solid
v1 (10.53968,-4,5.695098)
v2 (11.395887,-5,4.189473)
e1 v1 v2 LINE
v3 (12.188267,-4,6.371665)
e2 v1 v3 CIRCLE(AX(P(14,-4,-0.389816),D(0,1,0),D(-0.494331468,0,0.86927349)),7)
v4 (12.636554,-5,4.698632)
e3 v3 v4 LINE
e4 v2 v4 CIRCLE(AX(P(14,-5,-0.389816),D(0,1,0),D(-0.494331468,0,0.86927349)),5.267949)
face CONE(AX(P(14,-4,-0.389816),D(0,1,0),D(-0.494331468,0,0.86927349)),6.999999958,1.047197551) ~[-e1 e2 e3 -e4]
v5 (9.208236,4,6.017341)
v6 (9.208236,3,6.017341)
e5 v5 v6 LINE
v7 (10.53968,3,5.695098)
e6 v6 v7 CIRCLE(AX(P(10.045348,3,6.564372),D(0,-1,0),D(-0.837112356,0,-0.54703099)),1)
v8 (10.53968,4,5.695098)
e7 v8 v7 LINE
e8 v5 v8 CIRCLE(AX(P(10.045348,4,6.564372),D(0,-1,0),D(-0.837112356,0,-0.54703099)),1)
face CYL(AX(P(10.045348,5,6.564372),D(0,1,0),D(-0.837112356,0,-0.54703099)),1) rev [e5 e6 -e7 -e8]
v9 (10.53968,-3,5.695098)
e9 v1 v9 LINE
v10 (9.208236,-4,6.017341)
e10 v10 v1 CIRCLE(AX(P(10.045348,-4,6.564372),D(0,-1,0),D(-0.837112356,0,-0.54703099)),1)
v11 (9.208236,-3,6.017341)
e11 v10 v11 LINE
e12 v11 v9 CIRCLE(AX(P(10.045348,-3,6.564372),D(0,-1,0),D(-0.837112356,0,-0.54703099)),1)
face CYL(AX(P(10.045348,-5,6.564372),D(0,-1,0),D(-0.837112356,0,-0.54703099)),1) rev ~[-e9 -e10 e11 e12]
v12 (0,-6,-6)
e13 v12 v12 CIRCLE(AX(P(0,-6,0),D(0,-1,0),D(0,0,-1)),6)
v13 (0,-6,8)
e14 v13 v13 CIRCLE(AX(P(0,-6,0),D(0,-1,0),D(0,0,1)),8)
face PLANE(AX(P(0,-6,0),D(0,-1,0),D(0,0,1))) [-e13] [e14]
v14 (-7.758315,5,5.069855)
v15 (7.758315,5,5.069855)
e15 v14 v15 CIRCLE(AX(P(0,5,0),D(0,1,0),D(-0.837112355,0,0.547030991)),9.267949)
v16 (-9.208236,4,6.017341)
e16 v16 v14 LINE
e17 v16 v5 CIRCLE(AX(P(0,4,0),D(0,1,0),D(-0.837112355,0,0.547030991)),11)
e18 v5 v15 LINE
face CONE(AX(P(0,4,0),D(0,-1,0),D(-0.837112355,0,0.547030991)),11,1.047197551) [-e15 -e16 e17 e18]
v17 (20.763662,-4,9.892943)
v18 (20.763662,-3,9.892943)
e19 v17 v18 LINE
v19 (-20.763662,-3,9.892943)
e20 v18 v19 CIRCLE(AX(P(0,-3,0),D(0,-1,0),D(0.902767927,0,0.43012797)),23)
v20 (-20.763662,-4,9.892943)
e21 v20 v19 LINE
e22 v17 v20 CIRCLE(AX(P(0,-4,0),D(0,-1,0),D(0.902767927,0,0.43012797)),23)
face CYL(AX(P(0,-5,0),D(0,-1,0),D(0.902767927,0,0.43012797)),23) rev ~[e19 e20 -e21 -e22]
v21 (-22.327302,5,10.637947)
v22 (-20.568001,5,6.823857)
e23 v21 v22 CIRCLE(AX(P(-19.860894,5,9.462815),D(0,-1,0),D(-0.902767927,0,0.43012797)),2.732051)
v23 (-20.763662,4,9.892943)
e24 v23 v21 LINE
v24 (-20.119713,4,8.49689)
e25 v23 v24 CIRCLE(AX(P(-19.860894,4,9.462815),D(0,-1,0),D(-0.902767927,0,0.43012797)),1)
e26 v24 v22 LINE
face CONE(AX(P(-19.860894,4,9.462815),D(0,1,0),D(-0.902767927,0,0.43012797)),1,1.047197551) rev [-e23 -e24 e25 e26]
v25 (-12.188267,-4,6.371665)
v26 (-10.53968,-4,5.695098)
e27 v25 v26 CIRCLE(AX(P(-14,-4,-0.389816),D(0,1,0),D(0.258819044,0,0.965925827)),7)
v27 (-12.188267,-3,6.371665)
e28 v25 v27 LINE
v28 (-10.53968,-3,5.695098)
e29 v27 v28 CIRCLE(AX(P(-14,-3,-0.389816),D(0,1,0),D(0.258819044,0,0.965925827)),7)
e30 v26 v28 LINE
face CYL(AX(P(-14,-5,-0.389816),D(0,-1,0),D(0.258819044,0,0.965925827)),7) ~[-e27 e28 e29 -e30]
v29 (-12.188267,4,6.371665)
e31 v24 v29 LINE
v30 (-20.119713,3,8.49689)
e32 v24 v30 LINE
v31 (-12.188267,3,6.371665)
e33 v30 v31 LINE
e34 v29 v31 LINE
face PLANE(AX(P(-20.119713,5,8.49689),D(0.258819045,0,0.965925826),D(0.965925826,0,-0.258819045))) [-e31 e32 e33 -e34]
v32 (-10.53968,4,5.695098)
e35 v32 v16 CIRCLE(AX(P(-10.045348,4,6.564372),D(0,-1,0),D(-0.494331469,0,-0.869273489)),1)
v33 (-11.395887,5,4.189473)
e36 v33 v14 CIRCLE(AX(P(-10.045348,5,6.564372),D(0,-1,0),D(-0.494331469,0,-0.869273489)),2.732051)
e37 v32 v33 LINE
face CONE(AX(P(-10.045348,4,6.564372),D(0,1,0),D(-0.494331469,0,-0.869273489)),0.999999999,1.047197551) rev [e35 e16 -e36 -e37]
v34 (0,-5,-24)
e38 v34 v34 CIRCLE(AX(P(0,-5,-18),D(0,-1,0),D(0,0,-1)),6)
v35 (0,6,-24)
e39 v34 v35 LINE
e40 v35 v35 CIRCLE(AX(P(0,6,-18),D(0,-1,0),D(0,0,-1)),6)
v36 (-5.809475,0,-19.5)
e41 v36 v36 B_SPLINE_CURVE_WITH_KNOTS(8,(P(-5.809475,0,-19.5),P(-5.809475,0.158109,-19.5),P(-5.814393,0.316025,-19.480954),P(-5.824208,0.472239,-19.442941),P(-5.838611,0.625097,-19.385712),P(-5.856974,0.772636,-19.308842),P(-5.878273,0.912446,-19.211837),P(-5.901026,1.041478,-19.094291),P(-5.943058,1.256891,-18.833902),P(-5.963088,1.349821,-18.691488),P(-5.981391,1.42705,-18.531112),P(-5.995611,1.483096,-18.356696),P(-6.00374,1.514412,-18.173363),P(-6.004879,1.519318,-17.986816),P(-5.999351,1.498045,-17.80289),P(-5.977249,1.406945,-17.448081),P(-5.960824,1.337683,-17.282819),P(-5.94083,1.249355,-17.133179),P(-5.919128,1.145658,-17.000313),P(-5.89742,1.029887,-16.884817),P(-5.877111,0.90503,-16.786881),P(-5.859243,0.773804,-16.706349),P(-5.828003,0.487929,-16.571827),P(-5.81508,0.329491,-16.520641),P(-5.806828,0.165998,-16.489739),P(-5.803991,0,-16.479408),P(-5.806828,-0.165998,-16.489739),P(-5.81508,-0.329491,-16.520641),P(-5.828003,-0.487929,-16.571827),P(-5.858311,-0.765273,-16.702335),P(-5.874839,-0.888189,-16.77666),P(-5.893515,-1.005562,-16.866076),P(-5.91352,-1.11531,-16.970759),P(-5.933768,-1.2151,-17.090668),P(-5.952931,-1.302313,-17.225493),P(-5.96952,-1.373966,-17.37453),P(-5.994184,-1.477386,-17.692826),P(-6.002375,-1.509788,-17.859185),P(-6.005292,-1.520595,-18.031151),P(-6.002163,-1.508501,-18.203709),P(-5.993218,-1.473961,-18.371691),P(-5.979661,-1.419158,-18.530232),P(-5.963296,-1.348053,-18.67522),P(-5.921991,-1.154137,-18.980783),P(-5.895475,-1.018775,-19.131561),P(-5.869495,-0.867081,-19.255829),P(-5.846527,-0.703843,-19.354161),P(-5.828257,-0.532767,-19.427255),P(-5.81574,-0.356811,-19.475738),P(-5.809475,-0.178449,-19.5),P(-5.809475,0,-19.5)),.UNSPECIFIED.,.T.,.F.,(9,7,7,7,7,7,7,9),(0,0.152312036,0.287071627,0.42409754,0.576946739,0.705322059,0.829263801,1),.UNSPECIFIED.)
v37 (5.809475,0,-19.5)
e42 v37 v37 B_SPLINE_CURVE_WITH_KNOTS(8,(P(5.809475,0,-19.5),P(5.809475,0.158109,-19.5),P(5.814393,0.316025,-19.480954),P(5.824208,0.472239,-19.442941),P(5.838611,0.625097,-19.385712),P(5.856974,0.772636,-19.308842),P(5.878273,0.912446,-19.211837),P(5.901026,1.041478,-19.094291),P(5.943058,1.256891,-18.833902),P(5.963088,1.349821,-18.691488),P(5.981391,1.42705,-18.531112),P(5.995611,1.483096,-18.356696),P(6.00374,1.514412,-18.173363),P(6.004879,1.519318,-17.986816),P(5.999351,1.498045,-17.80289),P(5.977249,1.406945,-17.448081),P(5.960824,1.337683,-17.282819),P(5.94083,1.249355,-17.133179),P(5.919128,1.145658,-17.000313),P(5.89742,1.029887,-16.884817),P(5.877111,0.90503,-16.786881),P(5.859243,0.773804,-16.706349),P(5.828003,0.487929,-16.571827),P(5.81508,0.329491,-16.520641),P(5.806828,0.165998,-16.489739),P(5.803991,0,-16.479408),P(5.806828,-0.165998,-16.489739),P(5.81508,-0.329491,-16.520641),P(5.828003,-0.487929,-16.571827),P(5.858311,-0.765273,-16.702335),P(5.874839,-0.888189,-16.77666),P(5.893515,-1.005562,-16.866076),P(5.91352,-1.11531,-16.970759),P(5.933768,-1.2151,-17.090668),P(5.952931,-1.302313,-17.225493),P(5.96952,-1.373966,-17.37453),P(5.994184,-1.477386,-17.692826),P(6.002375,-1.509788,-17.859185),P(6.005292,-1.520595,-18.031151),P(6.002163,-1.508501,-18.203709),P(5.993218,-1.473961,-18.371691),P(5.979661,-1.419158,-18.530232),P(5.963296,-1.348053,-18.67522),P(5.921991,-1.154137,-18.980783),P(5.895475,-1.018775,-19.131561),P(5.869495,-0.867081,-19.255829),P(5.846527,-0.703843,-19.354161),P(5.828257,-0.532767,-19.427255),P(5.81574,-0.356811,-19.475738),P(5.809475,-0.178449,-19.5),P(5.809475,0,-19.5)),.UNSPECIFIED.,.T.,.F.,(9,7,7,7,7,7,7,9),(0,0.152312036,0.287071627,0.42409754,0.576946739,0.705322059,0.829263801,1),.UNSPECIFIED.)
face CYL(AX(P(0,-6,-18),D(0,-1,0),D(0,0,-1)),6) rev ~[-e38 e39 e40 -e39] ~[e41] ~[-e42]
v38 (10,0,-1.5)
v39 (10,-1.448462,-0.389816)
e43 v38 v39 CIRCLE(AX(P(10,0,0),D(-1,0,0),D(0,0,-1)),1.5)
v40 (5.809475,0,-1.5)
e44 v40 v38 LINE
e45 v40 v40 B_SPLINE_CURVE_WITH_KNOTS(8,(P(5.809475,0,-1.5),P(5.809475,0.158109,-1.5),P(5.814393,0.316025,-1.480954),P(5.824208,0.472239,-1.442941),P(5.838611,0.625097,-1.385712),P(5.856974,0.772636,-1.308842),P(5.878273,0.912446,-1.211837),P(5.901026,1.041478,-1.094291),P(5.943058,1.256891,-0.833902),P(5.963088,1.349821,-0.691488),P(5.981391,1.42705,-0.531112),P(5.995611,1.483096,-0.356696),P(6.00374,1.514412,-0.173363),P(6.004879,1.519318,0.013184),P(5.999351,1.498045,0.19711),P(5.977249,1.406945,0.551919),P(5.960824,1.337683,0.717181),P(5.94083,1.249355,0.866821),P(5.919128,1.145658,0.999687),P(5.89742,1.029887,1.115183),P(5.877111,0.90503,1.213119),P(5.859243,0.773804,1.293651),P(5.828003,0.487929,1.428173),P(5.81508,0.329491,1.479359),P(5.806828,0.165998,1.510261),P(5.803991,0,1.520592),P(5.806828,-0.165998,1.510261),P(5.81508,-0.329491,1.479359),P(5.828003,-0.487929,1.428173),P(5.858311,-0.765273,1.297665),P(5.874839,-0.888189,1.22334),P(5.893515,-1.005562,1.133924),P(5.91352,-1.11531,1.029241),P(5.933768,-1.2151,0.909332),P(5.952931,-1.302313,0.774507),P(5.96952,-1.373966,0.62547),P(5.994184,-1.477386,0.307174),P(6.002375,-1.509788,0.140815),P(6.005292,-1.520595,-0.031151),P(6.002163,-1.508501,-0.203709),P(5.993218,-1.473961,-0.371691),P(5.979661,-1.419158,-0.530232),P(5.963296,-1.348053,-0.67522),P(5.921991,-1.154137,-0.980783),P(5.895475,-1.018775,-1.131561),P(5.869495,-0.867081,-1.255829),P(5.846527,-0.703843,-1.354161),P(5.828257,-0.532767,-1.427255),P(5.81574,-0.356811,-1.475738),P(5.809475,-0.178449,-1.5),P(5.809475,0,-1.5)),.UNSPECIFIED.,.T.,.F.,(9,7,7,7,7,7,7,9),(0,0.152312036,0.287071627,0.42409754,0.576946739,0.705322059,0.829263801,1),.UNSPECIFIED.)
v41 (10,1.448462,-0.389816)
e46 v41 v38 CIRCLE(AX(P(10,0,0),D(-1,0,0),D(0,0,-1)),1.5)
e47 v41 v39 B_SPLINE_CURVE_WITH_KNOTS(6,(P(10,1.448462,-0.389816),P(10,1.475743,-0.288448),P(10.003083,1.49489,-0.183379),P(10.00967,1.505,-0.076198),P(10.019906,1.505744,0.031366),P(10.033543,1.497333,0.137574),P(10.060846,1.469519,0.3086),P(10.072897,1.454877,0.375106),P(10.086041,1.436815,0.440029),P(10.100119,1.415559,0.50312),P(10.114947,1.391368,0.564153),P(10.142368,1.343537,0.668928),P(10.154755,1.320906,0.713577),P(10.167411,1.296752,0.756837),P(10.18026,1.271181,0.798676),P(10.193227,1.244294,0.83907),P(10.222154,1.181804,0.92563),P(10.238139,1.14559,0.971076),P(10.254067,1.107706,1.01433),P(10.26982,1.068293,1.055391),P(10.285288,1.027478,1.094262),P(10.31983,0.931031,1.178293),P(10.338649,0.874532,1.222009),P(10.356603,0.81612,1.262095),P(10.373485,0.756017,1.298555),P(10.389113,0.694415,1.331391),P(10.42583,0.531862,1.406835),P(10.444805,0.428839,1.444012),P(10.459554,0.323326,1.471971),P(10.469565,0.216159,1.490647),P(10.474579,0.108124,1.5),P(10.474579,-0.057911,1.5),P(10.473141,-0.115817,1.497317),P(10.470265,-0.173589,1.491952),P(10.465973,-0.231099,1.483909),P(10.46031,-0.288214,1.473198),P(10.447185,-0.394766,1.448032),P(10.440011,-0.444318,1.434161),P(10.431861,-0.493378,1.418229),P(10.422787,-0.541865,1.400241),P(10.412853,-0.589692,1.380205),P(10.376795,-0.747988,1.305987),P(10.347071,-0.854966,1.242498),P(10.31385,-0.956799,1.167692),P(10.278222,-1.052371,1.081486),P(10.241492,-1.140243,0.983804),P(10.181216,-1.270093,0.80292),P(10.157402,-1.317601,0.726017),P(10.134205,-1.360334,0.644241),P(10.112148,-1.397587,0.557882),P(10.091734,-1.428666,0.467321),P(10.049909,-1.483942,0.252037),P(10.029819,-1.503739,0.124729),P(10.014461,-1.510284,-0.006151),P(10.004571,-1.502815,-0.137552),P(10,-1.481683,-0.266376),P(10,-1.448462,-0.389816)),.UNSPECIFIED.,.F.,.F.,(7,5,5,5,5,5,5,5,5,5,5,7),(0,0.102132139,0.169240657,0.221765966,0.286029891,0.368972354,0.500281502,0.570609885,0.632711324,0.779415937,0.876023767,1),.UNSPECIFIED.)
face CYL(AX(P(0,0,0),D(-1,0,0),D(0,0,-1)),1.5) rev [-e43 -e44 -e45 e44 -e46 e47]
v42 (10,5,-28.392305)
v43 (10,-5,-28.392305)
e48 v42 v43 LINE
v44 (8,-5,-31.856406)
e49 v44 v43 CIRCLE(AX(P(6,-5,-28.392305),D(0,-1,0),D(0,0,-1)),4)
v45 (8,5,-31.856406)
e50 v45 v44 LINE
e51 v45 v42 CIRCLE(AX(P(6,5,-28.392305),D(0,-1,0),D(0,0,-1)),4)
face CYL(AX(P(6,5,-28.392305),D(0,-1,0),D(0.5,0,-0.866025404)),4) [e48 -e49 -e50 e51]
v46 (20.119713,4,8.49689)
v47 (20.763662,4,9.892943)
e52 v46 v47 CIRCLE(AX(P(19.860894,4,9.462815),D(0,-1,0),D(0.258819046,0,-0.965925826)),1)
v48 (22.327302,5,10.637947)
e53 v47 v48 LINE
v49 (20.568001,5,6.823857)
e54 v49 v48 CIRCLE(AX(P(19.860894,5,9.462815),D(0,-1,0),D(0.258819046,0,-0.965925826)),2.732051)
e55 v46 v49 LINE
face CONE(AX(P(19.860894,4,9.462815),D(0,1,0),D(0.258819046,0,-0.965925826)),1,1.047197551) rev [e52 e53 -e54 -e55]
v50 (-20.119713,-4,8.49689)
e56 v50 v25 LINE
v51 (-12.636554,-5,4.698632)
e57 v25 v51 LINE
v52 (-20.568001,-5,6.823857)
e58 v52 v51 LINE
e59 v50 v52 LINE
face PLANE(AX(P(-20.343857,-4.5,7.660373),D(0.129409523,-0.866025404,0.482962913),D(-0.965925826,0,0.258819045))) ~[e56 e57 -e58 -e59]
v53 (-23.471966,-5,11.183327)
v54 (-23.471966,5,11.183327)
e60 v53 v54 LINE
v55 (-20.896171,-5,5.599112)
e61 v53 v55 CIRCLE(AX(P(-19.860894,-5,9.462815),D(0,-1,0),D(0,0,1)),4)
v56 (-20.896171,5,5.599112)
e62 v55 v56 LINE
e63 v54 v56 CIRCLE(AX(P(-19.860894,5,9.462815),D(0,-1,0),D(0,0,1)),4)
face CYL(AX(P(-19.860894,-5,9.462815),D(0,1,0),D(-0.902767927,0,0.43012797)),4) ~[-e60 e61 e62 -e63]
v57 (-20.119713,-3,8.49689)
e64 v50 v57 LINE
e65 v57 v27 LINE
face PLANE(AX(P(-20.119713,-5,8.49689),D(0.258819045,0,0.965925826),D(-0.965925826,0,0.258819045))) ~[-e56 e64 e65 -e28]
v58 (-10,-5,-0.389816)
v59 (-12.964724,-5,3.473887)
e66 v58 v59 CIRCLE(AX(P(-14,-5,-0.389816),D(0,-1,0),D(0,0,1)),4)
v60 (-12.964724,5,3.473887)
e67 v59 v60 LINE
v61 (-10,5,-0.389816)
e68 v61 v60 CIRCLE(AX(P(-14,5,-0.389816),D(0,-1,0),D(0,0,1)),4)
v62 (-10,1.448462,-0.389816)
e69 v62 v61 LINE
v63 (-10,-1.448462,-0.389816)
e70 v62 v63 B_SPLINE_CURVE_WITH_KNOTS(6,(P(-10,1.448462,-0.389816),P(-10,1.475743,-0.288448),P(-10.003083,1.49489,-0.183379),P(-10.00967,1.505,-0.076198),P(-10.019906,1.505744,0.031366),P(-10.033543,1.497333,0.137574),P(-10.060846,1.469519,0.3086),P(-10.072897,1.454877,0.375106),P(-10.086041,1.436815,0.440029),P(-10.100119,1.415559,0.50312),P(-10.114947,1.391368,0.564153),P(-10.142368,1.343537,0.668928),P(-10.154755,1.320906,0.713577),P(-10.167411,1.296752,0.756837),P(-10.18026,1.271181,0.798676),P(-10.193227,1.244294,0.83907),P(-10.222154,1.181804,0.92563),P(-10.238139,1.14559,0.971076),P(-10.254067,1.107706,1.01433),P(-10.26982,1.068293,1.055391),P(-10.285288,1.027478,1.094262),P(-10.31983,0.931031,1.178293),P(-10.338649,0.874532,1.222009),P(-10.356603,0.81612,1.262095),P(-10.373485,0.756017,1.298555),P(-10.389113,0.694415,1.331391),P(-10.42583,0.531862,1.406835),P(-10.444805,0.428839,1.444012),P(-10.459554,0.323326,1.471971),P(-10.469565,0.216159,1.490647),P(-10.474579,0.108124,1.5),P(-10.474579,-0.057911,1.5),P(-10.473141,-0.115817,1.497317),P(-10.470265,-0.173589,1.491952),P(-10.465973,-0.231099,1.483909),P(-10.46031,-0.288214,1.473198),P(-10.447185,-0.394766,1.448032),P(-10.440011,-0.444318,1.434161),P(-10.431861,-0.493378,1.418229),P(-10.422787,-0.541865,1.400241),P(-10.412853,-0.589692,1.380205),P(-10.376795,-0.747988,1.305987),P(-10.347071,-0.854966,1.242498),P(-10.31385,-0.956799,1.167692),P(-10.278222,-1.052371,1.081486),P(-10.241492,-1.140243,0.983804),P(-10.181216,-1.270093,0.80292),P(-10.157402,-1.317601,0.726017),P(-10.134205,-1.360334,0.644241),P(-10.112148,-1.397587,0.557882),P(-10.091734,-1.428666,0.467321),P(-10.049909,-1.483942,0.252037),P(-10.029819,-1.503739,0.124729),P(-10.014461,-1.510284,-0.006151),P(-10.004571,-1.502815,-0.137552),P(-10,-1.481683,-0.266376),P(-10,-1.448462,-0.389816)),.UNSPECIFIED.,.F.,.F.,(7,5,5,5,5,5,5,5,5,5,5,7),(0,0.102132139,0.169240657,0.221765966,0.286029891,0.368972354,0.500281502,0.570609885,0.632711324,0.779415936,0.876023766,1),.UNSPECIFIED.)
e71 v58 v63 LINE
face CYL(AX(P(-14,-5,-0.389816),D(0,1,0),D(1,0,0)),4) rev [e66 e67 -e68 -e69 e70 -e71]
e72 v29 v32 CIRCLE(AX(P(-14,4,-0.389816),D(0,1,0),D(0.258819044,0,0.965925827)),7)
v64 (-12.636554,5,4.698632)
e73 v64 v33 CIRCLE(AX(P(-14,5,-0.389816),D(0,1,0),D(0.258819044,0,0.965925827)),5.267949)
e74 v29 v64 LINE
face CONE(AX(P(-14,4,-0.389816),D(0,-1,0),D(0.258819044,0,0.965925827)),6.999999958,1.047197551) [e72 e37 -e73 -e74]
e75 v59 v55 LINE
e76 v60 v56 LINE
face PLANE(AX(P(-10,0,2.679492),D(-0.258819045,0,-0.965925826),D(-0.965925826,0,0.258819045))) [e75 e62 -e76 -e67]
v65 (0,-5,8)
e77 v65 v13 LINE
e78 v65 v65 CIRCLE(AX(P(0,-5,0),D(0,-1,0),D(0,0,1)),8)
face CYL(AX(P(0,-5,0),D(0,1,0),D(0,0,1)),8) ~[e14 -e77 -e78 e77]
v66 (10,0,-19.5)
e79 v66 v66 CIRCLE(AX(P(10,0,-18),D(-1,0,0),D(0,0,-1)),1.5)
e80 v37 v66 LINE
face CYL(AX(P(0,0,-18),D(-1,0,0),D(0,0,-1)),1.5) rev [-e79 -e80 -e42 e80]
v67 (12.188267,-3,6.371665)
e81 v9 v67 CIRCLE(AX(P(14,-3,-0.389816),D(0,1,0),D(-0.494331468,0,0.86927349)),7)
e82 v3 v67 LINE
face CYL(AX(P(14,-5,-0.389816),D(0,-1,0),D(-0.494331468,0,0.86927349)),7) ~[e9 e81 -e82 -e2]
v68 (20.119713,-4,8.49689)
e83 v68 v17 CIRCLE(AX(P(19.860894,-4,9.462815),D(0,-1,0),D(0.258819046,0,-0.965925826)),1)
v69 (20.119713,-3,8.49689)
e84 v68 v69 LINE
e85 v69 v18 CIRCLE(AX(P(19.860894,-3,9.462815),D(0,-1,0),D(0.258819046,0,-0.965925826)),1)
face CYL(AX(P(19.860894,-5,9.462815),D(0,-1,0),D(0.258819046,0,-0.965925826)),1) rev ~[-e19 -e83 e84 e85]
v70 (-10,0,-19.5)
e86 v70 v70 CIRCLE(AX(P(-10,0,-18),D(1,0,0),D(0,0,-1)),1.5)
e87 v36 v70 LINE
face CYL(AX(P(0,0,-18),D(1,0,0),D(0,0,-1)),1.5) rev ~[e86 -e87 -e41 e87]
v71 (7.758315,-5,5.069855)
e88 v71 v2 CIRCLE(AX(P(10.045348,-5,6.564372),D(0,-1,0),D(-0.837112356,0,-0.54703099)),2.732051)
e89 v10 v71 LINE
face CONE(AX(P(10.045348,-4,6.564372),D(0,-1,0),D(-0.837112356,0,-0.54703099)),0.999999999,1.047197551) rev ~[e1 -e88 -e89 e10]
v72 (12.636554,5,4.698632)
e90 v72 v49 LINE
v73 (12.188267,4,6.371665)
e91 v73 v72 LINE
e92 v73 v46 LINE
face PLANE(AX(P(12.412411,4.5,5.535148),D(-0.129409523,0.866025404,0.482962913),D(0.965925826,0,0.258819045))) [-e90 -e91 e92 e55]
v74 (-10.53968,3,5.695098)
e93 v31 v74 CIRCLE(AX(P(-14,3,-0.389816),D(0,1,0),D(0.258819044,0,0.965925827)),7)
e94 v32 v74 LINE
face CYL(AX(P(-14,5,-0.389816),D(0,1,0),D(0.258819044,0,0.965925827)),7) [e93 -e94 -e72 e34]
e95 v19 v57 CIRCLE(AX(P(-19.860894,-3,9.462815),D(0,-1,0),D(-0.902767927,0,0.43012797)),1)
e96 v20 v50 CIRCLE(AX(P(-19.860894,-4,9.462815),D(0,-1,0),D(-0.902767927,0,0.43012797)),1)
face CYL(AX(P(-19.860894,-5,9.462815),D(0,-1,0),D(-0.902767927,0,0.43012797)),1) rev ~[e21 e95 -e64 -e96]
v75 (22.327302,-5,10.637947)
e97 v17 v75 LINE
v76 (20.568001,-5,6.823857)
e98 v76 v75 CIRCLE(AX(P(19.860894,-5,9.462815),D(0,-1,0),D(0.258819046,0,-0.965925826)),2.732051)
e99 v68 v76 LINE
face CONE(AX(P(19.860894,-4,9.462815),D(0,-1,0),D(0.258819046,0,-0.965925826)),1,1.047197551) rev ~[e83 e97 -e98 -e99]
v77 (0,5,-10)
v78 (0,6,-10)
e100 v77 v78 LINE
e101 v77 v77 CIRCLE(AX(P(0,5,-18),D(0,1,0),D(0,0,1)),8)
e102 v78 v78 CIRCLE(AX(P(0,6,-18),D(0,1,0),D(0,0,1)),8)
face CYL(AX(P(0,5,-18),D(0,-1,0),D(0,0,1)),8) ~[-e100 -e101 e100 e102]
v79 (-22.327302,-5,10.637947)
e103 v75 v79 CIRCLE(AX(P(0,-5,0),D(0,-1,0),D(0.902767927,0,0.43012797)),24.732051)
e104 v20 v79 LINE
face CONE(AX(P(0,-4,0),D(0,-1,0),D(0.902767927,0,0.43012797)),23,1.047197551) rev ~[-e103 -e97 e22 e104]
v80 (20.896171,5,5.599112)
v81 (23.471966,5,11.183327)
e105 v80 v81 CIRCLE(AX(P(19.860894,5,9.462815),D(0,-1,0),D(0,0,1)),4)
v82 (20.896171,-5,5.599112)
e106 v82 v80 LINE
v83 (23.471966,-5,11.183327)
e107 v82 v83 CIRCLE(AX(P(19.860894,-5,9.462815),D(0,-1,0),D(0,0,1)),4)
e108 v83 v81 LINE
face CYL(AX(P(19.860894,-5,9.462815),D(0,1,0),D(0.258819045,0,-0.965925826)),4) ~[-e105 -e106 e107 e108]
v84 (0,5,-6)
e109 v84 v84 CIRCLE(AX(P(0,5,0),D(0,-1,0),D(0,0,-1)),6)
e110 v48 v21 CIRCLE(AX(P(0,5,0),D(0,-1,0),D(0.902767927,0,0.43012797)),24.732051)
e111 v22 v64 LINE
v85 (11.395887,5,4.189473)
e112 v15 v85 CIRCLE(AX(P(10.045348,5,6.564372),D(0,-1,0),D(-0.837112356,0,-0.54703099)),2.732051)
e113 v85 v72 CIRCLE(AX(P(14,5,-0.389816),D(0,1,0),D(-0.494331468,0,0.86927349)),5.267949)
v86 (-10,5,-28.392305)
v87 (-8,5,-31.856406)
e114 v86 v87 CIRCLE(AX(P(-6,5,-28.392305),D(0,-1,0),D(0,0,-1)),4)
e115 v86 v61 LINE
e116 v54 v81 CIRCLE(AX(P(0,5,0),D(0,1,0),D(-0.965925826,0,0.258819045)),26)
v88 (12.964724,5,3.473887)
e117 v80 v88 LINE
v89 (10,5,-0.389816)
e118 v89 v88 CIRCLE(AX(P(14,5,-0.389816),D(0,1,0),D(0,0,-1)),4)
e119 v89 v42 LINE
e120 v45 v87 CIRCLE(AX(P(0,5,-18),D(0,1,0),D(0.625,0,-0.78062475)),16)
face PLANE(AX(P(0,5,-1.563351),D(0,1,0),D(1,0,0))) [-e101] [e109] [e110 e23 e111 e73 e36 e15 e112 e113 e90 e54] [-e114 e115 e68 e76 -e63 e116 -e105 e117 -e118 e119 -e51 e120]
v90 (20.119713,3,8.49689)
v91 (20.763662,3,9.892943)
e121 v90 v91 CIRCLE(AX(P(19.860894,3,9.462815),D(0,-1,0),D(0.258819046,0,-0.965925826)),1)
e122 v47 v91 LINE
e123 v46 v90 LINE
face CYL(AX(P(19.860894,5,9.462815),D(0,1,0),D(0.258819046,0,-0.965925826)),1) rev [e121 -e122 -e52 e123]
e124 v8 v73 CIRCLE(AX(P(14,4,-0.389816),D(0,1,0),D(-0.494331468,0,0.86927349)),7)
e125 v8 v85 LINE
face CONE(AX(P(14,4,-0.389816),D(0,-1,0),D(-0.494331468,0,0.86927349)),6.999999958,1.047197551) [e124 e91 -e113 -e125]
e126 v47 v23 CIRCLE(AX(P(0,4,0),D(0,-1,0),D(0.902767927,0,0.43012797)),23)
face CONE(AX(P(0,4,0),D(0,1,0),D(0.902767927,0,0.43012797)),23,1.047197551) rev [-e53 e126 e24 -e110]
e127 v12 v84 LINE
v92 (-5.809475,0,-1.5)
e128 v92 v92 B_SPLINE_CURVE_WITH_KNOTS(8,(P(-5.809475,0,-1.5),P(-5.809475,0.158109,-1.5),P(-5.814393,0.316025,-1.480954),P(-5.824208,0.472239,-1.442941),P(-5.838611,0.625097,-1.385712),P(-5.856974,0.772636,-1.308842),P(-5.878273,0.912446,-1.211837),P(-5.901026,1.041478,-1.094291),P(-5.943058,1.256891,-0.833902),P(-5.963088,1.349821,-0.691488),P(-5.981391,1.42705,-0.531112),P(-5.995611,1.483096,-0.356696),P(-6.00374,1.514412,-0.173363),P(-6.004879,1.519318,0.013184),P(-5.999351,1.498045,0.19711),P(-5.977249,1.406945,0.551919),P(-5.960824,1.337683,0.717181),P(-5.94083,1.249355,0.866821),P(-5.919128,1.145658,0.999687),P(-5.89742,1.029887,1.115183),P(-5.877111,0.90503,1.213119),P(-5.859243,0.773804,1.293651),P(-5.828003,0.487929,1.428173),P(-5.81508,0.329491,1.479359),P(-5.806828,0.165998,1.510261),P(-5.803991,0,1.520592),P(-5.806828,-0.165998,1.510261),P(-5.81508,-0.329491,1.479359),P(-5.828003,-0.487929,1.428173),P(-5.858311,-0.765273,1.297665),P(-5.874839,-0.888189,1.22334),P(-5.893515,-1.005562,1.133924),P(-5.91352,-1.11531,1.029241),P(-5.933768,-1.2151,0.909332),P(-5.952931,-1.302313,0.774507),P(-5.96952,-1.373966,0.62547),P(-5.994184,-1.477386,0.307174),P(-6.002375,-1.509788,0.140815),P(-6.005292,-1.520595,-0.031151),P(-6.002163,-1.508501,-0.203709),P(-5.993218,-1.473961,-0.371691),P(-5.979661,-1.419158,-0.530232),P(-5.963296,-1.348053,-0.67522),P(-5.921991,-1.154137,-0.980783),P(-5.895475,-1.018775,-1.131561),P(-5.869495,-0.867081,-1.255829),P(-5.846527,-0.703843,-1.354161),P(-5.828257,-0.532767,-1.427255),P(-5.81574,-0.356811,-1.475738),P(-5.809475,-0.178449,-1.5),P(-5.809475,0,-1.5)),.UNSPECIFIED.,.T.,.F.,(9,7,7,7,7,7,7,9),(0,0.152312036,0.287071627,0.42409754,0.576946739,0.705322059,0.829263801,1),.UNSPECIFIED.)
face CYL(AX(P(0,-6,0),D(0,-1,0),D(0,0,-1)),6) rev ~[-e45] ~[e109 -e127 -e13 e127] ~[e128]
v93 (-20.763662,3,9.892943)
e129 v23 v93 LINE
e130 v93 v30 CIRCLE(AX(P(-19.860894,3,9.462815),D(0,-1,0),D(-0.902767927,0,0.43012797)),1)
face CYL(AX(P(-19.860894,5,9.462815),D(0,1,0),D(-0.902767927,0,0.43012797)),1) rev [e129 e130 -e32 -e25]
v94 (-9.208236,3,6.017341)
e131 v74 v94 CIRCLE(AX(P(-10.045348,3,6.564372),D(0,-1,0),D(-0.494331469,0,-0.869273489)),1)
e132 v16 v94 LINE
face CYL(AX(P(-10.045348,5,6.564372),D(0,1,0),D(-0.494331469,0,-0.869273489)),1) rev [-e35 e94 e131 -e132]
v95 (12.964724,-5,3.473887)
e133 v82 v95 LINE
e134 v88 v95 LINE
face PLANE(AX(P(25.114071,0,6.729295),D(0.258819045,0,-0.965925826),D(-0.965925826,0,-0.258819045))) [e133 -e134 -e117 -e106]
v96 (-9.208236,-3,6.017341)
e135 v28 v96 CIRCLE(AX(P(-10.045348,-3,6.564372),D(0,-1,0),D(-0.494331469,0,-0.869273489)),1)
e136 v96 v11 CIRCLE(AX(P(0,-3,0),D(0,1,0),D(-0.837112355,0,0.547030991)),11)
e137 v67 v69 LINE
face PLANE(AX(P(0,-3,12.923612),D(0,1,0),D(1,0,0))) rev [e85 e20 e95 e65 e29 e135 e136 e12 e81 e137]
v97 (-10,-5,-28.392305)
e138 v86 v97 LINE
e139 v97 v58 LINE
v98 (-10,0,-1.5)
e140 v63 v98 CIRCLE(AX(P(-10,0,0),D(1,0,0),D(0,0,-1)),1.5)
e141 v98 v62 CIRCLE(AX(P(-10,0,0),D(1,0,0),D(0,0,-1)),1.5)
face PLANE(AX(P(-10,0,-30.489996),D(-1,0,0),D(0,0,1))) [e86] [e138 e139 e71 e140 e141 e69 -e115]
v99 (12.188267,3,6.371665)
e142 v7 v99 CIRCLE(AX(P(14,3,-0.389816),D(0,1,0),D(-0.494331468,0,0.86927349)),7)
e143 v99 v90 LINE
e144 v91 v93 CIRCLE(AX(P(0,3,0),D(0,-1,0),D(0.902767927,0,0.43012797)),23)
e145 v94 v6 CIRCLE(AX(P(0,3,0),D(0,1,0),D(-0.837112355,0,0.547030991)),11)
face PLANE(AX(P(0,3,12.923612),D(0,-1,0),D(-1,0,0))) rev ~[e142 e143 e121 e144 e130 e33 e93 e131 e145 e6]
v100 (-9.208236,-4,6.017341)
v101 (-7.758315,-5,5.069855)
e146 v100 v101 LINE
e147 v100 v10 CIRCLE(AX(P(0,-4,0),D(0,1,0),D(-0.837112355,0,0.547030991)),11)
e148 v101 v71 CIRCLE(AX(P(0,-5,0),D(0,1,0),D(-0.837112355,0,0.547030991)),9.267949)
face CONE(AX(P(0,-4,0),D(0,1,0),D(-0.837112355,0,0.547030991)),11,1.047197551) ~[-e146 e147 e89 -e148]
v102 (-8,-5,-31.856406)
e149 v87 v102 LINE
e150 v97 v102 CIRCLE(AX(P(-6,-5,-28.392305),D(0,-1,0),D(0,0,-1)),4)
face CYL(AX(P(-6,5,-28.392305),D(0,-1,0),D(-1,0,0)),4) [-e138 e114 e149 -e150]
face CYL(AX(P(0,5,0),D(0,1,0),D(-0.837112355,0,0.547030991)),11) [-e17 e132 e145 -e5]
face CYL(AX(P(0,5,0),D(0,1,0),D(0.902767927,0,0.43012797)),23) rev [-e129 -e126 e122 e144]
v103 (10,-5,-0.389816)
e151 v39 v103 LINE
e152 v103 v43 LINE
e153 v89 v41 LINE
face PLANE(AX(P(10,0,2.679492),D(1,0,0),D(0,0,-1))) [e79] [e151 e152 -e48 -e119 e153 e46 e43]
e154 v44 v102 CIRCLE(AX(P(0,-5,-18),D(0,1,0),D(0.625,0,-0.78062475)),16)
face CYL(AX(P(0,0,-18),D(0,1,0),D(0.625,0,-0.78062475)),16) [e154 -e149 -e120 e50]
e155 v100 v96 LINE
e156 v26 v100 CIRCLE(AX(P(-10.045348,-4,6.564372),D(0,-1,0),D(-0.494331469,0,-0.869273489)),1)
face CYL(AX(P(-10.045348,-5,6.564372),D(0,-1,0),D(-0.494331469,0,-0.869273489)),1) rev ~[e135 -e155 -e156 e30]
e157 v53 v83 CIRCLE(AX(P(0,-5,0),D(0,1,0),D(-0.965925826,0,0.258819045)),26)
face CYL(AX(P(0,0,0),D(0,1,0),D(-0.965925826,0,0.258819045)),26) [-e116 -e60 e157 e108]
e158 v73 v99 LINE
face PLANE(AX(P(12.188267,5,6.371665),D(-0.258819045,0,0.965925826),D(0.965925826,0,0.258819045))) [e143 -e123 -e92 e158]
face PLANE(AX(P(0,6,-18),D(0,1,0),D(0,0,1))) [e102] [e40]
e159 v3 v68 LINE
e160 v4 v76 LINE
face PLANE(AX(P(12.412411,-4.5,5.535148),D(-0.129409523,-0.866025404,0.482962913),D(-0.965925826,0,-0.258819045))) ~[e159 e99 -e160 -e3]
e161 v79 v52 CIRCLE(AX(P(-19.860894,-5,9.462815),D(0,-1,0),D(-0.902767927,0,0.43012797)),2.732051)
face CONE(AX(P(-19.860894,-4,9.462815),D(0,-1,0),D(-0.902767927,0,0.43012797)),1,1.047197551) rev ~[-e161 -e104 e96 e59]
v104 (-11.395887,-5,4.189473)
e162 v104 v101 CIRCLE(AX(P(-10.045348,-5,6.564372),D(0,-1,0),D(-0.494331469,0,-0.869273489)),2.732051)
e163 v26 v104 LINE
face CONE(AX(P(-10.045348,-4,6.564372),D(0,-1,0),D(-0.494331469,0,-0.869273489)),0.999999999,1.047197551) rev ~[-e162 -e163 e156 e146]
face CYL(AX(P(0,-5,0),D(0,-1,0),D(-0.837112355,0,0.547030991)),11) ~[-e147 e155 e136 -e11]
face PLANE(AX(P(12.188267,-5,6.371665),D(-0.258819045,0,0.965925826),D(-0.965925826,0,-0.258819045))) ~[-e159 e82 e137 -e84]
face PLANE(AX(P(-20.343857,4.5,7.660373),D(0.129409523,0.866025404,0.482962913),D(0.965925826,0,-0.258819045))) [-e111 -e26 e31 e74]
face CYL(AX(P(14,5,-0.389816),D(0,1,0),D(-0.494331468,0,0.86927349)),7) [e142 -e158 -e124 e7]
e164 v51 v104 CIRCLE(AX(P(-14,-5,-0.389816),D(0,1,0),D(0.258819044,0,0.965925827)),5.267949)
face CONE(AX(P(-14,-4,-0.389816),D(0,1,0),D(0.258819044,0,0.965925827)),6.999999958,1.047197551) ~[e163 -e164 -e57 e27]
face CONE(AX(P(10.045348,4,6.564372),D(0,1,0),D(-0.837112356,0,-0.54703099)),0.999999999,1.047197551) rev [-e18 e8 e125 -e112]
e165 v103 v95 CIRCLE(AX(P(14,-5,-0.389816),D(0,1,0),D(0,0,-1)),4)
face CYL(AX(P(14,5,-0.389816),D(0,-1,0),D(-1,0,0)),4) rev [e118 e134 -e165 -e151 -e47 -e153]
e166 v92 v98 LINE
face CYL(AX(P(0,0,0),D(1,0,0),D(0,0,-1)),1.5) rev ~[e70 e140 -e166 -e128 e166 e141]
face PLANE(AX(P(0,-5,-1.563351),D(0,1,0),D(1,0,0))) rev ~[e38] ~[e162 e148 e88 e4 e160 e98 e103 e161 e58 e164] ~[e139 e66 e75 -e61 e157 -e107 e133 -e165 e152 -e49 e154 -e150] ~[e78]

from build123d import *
from OCP.BRepFilletAPI import BRepFilletAPI_MakeChamfer

# Parameters (mm, degrees)
BOSS_EXTRUDE1_DEPTH       = 5
FILLET1_R                 = 4
SKETCH2_R                 = 8
BOSS_EXTRUDE2_DEPTH       = 1
SKETCH3_R                 = 8
BOSS_EXTRUDE3_DEPTH       = 1
SKETCH4_R                 = 6
CUT_EXTRUDE1_DEPTH        = 44.235891121
CUT_EXTRUDE2_DEPTH        = 2
CHAMFER1_SIZE             = 1
CHAMFER1_SIZE2            = 1.732050808
CHAMFER1_OF_MIRROR3_SIZE  = 1
CHAMFER1_OF_MIRROR3_SIZE2 = 1.732050808
SKETCH6_R                 = 1.5
CUT_EXTRUDE3_DEPTH        = 42.968348563
CUT_EXTRUDE3_DEPTH_BACK   = 42.968348563


with BuildPart() as part:
    # Sketch1 → Boss-Extrude1 (new, symmetric)
    with BuildSketch(Plane(origin=(0, 0, 0), x_dir=(1, 0, 0), z_dir=(0, 1, 0))):
        with BuildLine():
            Line((-10, 30.489995997), (-10, -2.679491924))
            Line((-10, -2.679491924), (-25.114071484, -6.729295173))
            ThreePointArc((-25.114071484, -6.729295173), (0, -26), (25.114071484, -6.729295173))
            Line((25.114071484, -6.729295173), (10, -2.679491924))
            Line((10, -2.679491924), (10, 30.489995997))
            ThreePointArc((10, 30.489995997), (0, 34), (-10, 30.489995997))
        make_face()
    extrude(amount=BOSS_EXTRUDE1_DEPTH, both=True)

    # Fillet1
    fillet1_edges = [part.edges().sort_by_distance(p)[0] for p in [
        (10, 0, -30.489995997),
        (10, 0, 2.679491924),
        (25.114071484, 0, 6.729295173),
        (-25.114071484, 0, 6.729295173),
        (-10, 0, 2.679491924),
        (-10, 0, -30.489995997),
    ]]
    fillet(fillet1_edges, radius=FILLET1_R)

    # Sketch2 → Boss-Extrude2 (add)
    with BuildSketch(Plane.XZ.offset(5)):
        with Locations(Location((0, 0, 0), (0, 0, 90))):
            Circle(SKETCH2_R)
    extrude(amount=BOSS_EXTRUDE2_DEPTH)

    # Sketch3 → Boss-Extrude3 (add)
    with BuildSketch(Plane(origin=(0, 5, 0), x_dir=(1, 0, 0), z_dir=(0, 1, 0))):
        with Locations(Location((0, 18, 0), (0, 0, 270))):
            Circle(SKETCH3_R)
    extrude(amount=BOSS_EXTRUDE3_DEPTH)

    # Sketch4 → Cut-Extrude1 (cut, through all)
    with BuildSketch(Plane.XZ.offset(6)):
        with Locations(Location((0, 0, 0), (0, 0, 270))):
            Circle(SKETCH4_R)
        with Locations(Location((0, -18, 0), (0, 0, 270))):
            Circle(SKETCH4_R)
    extrude(amount=-CUT_EXTRUDE1_DEPTH, mode=Mode.SUBTRACT)

    # Sketch5 → Cut-Extrude2 (cut)
    with BuildSketch(Plane(origin=(0, 5, 0), x_dir=(1, 0, 0), z_dir=(0, 1, 0))):
        with BuildLine():
            Line((12.188266684, -6.371664756), (20.119713435, -8.496889508))
            ThreePointArc((20.119713435, -8.496889508), (20.768948696, -9.043962883), (20.763662316, -9.892943304))
            ThreePointArc((20.763662316, -9.892943304), (0, -23), (-20.763662316, -9.892943304))
            ThreePointArc((-20.763662316, -9.892943304), (-20.768948696, -9.043962883), (-20.119713435, -8.496889508))
            Line((-20.119713435, -8.496889508), (-12.188266684, -6.371664756))
            ThreePointArc((-12.188266684, -6.371664756), (-11.342355786, -6.086056673), (-10.539679728, -5.695098402))
            ThreePointArc((-10.539679728, -5.695098402), (-9.810114884, -5.592432974), (-9.208235905, -6.017340901))
            ThreePointArc((-9.208235905, -6.017340901), (0, -11), (9.208235905, -6.017340901))
            ThreePointArc((9.208235905, -6.017340901), (9.810114884, -5.592432974), (10.539679728, -5.695098402))
            ThreePointArc((10.539679728, -5.695098402), (11.342355786, -6.086056673), (12.188266684, -6.371664756))
        make_face()
    cut_extrude2 = extrude(amount=-CUT_EXTRUDE2_DEPTH, mode=Mode.SUBTRACT)

    # Chamfer1: one chamfer whose edges measure the first distance from different faces: ONE call of the kernel's chamfer builder (chamfer() names one face for all edges)
    chamfer1_edges_1 = [part.edges().sort_by_distance(p)[0] for p in [
        (9.810114884, 5, 5.592432974),
    ]]
    chamfer1_side_1 = [part.faces().sort_by_distance(p)[0] for p in [
        (9.810114884, 4, 5.592432974),
    ]]
    chamfer1_edges_2 = [part.edges().sort_by_distance(p)[0] for p in [
        (0, 5, 11),
    ]]
    chamfer1_side_2 = [part.faces().sort_by_distance(p)[0] for p in [
        (0, 4, 11),
    ]]
    chamfer1_edges_3 = [part.edges().sort_by_distance(p)[0] for p in [
        (-9.810114884, 5, 5.592432974),
    ]]
    chamfer1_side_3 = [part.faces().sort_by_distance(p)[0] for p in [
        (-9.810114884, 4, 5.592432974),
    ]]
    chamfer1_edges_4 = [part.edges().sort_by_distance(p)[0] for p in [
        (-11.342355786, 5, 6.086056673),
    ]]
    chamfer1_side_4 = [part.faces().sort_by_distance(p)[0] for p in [
        (-11.342355786, 4, 6.086056673),
    ]]
    chamfer1_edges_5 = [part.edges().sort_by_distance(p)[0] for p in [
        (-16.153990059, 5, 7.434277132),
    ]]
    chamfer1_side_5 = [part.faces().sort_by_distance(p)[0] for p in [
        (-16.153990059, 4, 7.434277132),
    ]]
    chamfer1_edges_6 = [part.edges().sort_by_distance(p)[0] for p in [
        (-20.768948696, 5, 9.043962883),
    ]]
    chamfer1_side_6 = [part.faces().sort_by_distance(p)[0] for p in [
        (-20.768948696, 4, 9.043962883),
    ]]
    chamfer1_edges_7 = [part.edges().sort_by_distance(p)[0] for p in [
        (0, 5, 23),
    ]]
    chamfer1_side_7 = [part.faces().sort_by_distance(p)[0] for p in [
        (0, 4, 23),
    ]]
    chamfer1_edges_8 = [part.edges().sort_by_distance(p)[0] for p in [
        (20.768948696, 5, 9.043962883),
    ]]
    chamfer1_side_8 = [part.faces().sort_by_distance(p)[0] for p in [
        (20.768948696, 4, 9.043962883),
    ]]
    chamfer1_edges_9 = [part.edges().sort_by_distance(p)[0] for p in [
        (16.153990059, 5, 7.434277132),
    ]]
    chamfer1_side_9 = [part.faces().sort_by_distance(p)[0] for p in [
        (16.153990059, 4, 7.434277132),
    ]]
    chamfer1_edges_10 = [part.edges().sort_by_distance(p)[0] for p in [
        (11.342355786, 5, 6.086056673),
    ]]
    chamfer1_side_10 = [part.faces().sort_by_distance(p)[0] for p in [
        (11.342355786, 4, 6.086056673),
    ]]
    chamfer1 = BRepFilletAPI_MakeChamfer(part.part.solid().wrapped)
    for e in chamfer1_edges_1:
        chamfer1.Add(CHAMFER1_SIZE, CHAMFER1_SIZE2, e.wrapped, chamfer1_side_1[0].wrapped)  # the first distance lies on this face
    for e in chamfer1_edges_2:
        chamfer1.Add(CHAMFER1_SIZE, CHAMFER1_SIZE2, e.wrapped, chamfer1_side_2[0].wrapped)  # the first distance lies on this face
    for e in chamfer1_edges_3:
        chamfer1.Add(CHAMFER1_SIZE, CHAMFER1_SIZE2, e.wrapped, chamfer1_side_3[0].wrapped)  # the first distance lies on this face
    for e in chamfer1_edges_4:
        chamfer1.Add(CHAMFER1_SIZE, CHAMFER1_SIZE2, e.wrapped, chamfer1_side_4[0].wrapped)  # the first distance lies on this face
    for e in chamfer1_edges_5:
        chamfer1.Add(CHAMFER1_SIZE, CHAMFER1_SIZE2, e.wrapped, chamfer1_side_5[0].wrapped)  # the first distance lies on this face
    for e in chamfer1_edges_6:
        chamfer1.Add(CHAMFER1_SIZE, CHAMFER1_SIZE2, e.wrapped, chamfer1_side_6[0].wrapped)  # the first distance lies on this face
    for e in chamfer1_edges_7:
        chamfer1.Add(CHAMFER1_SIZE, CHAMFER1_SIZE2, e.wrapped, chamfer1_side_7[0].wrapped)  # the first distance lies on this face
    for e in chamfer1_edges_8:
        chamfer1.Add(CHAMFER1_SIZE, CHAMFER1_SIZE2, e.wrapped, chamfer1_side_8[0].wrapped)  # the first distance lies on this face
    for e in chamfer1_edges_9:
        chamfer1.Add(CHAMFER1_SIZE, CHAMFER1_SIZE2, e.wrapped, chamfer1_side_9[0].wrapped)  # the first distance lies on this face
    for e in chamfer1_edges_10:
        chamfer1.Add(CHAMFER1_SIZE, CHAMFER1_SIZE2, e.wrapped, chamfer1_side_10[0].wrapped)  # the first distance lies on this face
    add(Compound.cast(chamfer1.Shape()), mode=Mode.REPLACE)

    # Mirror3: Cut-Extrude2 across plane
    add(cut_extrude2.mirror(Plane.ZX), mode=Mode.SUBTRACT)

    # Chamfer1 of Mirror3: one chamfer whose edges measure the first distance from different faces: ONE call of the kernel's chamfer builder (chamfer() names one face for all edges)
    chamfer1_of_mirror3_edges_1 = [part.edges().sort_by_distance(p)[0] for p in [
        (9.810114884, -5, 5.592432974),
    ]]
    chamfer1_of_mirror3_side_1 = [part.faces().sort_by_distance(p)[0] for p in [
        (9.810114884, -4, 5.592432974),
    ]]
    chamfer1_of_mirror3_edges_2 = [part.edges().sort_by_distance(p)[0] for p in [
        (0, -5, 11),
    ]]
    chamfer1_of_mirror3_side_2 = [part.faces().sort_by_distance(p)[0] for p in [
        (0, -4, 11),
    ]]
    chamfer1_of_mirror3_edges_3 = [part.edges().sort_by_distance(p)[0] for p in [
        (-9.810114884, -5, 5.592432974),
    ]]
    chamfer1_of_mirror3_side_3 = [part.faces().sort_by_distance(p)[0] for p in [
        (-9.810114884, -4, 5.592432974),
    ]]
    chamfer1_of_mirror3_edges_4 = [part.edges().sort_by_distance(p)[0] for p in [
        (-11.342355786, -5, 6.086056673),
    ]]
    chamfer1_of_mirror3_side_4 = [part.faces().sort_by_distance(p)[0] for p in [
        (-11.342355786, -4, 6.086056673),
    ]]
    chamfer1_of_mirror3_edges_5 = [part.edges().sort_by_distance(p)[0] for p in [
        (-16.153990059, -5, 7.434277132),
    ]]
    chamfer1_of_mirror3_side_5 = [part.faces().sort_by_distance(p)[0] for p in [
        (-16.153990059, -4, 7.434277132),
    ]]
    chamfer1_of_mirror3_edges_6 = [part.edges().sort_by_distance(p)[0] for p in [
        (-20.768948696, -5, 9.043962883),
    ]]
    chamfer1_of_mirror3_side_6 = [part.faces().sort_by_distance(p)[0] for p in [
        (-20.768948696, -4, 9.043962883),
    ]]
    chamfer1_of_mirror3_edges_7 = [part.edges().sort_by_distance(p)[0] for p in [
        (0, -5, 23),
    ]]
    chamfer1_of_mirror3_side_7 = [part.faces().sort_by_distance(p)[0] for p in [
        (0, -4, 23),
    ]]
    chamfer1_of_mirror3_edges_8 = [part.edges().sort_by_distance(p)[0] for p in [
        (20.768948696, -5, 9.043962883),
    ]]
    chamfer1_of_mirror3_side_8 = [part.faces().sort_by_distance(p)[0] for p in [
        (20.768948696, -4, 9.043962883),
    ]]
    chamfer1_of_mirror3_edges_9 = [part.edges().sort_by_distance(p)[0] for p in [
        (16.153990059, -5, 7.434277132),
    ]]
    chamfer1_of_mirror3_side_9 = [part.faces().sort_by_distance(p)[0] for p in [
        (16.153990059, -4, 7.434277132),
    ]]
    chamfer1_of_mirror3_edges_10 = [part.edges().sort_by_distance(p)[0] for p in [
        (11.342355786, -5, 6.086056673),
    ]]
    chamfer1_of_mirror3_side_10 = [part.faces().sort_by_distance(p)[0] for p in [
        (11.342355786, -4, 6.086056673),
    ]]
    chamfer1_of_mirror3 = BRepFilletAPI_MakeChamfer(part.part.solid().wrapped)
    for e in chamfer1_of_mirror3_edges_1:
        chamfer1_of_mirror3.Add(CHAMFER1_OF_MIRROR3_SIZE, CHAMFER1_OF_MIRROR3_SIZE2, e.wrapped, chamfer1_of_mirror3_side_1[0].wrapped)  # the first distance lies on this face
    for e in chamfer1_of_mirror3_edges_2:
        chamfer1_of_mirror3.Add(CHAMFER1_OF_MIRROR3_SIZE, CHAMFER1_OF_MIRROR3_SIZE2, e.wrapped, chamfer1_of_mirror3_side_2[0].wrapped)  # the first distance lies on this face
    for e in chamfer1_of_mirror3_edges_3:
        chamfer1_of_mirror3.Add(CHAMFER1_OF_MIRROR3_SIZE, CHAMFER1_OF_MIRROR3_SIZE2, e.wrapped, chamfer1_of_mirror3_side_3[0].wrapped)  # the first distance lies on this face
    for e in chamfer1_of_mirror3_edges_4:
        chamfer1_of_mirror3.Add(CHAMFER1_OF_MIRROR3_SIZE, CHAMFER1_OF_MIRROR3_SIZE2, e.wrapped, chamfer1_of_mirror3_side_4[0].wrapped)  # the first distance lies on this face
    for e in chamfer1_of_mirror3_edges_5:
        chamfer1_of_mirror3.Add(CHAMFER1_OF_MIRROR3_SIZE, CHAMFER1_OF_MIRROR3_SIZE2, e.wrapped, chamfer1_of_mirror3_side_5[0].wrapped)  # the first distance lies on this face
    for e in chamfer1_of_mirror3_edges_6:
        chamfer1_of_mirror3.Add(CHAMFER1_OF_MIRROR3_SIZE, CHAMFER1_OF_MIRROR3_SIZE2, e.wrapped, chamfer1_of_mirror3_side_6[0].wrapped)  # the first distance lies on this face
    for e in chamfer1_of_mirror3_edges_7:
        chamfer1_of_mirror3.Add(CHAMFER1_OF_MIRROR3_SIZE, CHAMFER1_OF_MIRROR3_SIZE2, e.wrapped, chamfer1_of_mirror3_side_7[0].wrapped)  # the first distance lies on this face
    for e in chamfer1_of_mirror3_edges_8:
        chamfer1_of_mirror3.Add(CHAMFER1_OF_MIRROR3_SIZE, CHAMFER1_OF_MIRROR3_SIZE2, e.wrapped, chamfer1_of_mirror3_side_8[0].wrapped)  # the first distance lies on this face
    for e in chamfer1_of_mirror3_edges_9:
        chamfer1_of_mirror3.Add(CHAMFER1_OF_MIRROR3_SIZE, CHAMFER1_OF_MIRROR3_SIZE2, e.wrapped, chamfer1_of_mirror3_side_9[0].wrapped)  # the first distance lies on this face
    for e in chamfer1_of_mirror3_edges_10:
        chamfer1_of_mirror3.Add(CHAMFER1_OF_MIRROR3_SIZE, CHAMFER1_OF_MIRROR3_SIZE2, e.wrapped, chamfer1_of_mirror3_side_10[0].wrapped)  # the first distance lies on this face
    add(Compound.cast(chamfer1_of_mirror3.Shape()), mode=Mode.REPLACE)

    # Sketch6 → Cut-Extrude3 (cut, two sides)
    with BuildSketch(Plane(origin=(0, 0, 0), x_dir=(0, 0, -1), z_dir=(1, 0, 0))) as cut_extrude3_sk:
        Circle(SKETCH6_R)
        with Locations((18, 0)):
            Circle(SKETCH6_R)
    extrude(amount=CUT_EXTRUDE3_DEPTH, mode=Mode.SUBTRACT)
    extrude(cut_extrude3_sk.sketch, amount=-CUT_EXTRUDE3_DEPTH_BACK, mode=Mode.SUBTRACT)


solid = part.part
